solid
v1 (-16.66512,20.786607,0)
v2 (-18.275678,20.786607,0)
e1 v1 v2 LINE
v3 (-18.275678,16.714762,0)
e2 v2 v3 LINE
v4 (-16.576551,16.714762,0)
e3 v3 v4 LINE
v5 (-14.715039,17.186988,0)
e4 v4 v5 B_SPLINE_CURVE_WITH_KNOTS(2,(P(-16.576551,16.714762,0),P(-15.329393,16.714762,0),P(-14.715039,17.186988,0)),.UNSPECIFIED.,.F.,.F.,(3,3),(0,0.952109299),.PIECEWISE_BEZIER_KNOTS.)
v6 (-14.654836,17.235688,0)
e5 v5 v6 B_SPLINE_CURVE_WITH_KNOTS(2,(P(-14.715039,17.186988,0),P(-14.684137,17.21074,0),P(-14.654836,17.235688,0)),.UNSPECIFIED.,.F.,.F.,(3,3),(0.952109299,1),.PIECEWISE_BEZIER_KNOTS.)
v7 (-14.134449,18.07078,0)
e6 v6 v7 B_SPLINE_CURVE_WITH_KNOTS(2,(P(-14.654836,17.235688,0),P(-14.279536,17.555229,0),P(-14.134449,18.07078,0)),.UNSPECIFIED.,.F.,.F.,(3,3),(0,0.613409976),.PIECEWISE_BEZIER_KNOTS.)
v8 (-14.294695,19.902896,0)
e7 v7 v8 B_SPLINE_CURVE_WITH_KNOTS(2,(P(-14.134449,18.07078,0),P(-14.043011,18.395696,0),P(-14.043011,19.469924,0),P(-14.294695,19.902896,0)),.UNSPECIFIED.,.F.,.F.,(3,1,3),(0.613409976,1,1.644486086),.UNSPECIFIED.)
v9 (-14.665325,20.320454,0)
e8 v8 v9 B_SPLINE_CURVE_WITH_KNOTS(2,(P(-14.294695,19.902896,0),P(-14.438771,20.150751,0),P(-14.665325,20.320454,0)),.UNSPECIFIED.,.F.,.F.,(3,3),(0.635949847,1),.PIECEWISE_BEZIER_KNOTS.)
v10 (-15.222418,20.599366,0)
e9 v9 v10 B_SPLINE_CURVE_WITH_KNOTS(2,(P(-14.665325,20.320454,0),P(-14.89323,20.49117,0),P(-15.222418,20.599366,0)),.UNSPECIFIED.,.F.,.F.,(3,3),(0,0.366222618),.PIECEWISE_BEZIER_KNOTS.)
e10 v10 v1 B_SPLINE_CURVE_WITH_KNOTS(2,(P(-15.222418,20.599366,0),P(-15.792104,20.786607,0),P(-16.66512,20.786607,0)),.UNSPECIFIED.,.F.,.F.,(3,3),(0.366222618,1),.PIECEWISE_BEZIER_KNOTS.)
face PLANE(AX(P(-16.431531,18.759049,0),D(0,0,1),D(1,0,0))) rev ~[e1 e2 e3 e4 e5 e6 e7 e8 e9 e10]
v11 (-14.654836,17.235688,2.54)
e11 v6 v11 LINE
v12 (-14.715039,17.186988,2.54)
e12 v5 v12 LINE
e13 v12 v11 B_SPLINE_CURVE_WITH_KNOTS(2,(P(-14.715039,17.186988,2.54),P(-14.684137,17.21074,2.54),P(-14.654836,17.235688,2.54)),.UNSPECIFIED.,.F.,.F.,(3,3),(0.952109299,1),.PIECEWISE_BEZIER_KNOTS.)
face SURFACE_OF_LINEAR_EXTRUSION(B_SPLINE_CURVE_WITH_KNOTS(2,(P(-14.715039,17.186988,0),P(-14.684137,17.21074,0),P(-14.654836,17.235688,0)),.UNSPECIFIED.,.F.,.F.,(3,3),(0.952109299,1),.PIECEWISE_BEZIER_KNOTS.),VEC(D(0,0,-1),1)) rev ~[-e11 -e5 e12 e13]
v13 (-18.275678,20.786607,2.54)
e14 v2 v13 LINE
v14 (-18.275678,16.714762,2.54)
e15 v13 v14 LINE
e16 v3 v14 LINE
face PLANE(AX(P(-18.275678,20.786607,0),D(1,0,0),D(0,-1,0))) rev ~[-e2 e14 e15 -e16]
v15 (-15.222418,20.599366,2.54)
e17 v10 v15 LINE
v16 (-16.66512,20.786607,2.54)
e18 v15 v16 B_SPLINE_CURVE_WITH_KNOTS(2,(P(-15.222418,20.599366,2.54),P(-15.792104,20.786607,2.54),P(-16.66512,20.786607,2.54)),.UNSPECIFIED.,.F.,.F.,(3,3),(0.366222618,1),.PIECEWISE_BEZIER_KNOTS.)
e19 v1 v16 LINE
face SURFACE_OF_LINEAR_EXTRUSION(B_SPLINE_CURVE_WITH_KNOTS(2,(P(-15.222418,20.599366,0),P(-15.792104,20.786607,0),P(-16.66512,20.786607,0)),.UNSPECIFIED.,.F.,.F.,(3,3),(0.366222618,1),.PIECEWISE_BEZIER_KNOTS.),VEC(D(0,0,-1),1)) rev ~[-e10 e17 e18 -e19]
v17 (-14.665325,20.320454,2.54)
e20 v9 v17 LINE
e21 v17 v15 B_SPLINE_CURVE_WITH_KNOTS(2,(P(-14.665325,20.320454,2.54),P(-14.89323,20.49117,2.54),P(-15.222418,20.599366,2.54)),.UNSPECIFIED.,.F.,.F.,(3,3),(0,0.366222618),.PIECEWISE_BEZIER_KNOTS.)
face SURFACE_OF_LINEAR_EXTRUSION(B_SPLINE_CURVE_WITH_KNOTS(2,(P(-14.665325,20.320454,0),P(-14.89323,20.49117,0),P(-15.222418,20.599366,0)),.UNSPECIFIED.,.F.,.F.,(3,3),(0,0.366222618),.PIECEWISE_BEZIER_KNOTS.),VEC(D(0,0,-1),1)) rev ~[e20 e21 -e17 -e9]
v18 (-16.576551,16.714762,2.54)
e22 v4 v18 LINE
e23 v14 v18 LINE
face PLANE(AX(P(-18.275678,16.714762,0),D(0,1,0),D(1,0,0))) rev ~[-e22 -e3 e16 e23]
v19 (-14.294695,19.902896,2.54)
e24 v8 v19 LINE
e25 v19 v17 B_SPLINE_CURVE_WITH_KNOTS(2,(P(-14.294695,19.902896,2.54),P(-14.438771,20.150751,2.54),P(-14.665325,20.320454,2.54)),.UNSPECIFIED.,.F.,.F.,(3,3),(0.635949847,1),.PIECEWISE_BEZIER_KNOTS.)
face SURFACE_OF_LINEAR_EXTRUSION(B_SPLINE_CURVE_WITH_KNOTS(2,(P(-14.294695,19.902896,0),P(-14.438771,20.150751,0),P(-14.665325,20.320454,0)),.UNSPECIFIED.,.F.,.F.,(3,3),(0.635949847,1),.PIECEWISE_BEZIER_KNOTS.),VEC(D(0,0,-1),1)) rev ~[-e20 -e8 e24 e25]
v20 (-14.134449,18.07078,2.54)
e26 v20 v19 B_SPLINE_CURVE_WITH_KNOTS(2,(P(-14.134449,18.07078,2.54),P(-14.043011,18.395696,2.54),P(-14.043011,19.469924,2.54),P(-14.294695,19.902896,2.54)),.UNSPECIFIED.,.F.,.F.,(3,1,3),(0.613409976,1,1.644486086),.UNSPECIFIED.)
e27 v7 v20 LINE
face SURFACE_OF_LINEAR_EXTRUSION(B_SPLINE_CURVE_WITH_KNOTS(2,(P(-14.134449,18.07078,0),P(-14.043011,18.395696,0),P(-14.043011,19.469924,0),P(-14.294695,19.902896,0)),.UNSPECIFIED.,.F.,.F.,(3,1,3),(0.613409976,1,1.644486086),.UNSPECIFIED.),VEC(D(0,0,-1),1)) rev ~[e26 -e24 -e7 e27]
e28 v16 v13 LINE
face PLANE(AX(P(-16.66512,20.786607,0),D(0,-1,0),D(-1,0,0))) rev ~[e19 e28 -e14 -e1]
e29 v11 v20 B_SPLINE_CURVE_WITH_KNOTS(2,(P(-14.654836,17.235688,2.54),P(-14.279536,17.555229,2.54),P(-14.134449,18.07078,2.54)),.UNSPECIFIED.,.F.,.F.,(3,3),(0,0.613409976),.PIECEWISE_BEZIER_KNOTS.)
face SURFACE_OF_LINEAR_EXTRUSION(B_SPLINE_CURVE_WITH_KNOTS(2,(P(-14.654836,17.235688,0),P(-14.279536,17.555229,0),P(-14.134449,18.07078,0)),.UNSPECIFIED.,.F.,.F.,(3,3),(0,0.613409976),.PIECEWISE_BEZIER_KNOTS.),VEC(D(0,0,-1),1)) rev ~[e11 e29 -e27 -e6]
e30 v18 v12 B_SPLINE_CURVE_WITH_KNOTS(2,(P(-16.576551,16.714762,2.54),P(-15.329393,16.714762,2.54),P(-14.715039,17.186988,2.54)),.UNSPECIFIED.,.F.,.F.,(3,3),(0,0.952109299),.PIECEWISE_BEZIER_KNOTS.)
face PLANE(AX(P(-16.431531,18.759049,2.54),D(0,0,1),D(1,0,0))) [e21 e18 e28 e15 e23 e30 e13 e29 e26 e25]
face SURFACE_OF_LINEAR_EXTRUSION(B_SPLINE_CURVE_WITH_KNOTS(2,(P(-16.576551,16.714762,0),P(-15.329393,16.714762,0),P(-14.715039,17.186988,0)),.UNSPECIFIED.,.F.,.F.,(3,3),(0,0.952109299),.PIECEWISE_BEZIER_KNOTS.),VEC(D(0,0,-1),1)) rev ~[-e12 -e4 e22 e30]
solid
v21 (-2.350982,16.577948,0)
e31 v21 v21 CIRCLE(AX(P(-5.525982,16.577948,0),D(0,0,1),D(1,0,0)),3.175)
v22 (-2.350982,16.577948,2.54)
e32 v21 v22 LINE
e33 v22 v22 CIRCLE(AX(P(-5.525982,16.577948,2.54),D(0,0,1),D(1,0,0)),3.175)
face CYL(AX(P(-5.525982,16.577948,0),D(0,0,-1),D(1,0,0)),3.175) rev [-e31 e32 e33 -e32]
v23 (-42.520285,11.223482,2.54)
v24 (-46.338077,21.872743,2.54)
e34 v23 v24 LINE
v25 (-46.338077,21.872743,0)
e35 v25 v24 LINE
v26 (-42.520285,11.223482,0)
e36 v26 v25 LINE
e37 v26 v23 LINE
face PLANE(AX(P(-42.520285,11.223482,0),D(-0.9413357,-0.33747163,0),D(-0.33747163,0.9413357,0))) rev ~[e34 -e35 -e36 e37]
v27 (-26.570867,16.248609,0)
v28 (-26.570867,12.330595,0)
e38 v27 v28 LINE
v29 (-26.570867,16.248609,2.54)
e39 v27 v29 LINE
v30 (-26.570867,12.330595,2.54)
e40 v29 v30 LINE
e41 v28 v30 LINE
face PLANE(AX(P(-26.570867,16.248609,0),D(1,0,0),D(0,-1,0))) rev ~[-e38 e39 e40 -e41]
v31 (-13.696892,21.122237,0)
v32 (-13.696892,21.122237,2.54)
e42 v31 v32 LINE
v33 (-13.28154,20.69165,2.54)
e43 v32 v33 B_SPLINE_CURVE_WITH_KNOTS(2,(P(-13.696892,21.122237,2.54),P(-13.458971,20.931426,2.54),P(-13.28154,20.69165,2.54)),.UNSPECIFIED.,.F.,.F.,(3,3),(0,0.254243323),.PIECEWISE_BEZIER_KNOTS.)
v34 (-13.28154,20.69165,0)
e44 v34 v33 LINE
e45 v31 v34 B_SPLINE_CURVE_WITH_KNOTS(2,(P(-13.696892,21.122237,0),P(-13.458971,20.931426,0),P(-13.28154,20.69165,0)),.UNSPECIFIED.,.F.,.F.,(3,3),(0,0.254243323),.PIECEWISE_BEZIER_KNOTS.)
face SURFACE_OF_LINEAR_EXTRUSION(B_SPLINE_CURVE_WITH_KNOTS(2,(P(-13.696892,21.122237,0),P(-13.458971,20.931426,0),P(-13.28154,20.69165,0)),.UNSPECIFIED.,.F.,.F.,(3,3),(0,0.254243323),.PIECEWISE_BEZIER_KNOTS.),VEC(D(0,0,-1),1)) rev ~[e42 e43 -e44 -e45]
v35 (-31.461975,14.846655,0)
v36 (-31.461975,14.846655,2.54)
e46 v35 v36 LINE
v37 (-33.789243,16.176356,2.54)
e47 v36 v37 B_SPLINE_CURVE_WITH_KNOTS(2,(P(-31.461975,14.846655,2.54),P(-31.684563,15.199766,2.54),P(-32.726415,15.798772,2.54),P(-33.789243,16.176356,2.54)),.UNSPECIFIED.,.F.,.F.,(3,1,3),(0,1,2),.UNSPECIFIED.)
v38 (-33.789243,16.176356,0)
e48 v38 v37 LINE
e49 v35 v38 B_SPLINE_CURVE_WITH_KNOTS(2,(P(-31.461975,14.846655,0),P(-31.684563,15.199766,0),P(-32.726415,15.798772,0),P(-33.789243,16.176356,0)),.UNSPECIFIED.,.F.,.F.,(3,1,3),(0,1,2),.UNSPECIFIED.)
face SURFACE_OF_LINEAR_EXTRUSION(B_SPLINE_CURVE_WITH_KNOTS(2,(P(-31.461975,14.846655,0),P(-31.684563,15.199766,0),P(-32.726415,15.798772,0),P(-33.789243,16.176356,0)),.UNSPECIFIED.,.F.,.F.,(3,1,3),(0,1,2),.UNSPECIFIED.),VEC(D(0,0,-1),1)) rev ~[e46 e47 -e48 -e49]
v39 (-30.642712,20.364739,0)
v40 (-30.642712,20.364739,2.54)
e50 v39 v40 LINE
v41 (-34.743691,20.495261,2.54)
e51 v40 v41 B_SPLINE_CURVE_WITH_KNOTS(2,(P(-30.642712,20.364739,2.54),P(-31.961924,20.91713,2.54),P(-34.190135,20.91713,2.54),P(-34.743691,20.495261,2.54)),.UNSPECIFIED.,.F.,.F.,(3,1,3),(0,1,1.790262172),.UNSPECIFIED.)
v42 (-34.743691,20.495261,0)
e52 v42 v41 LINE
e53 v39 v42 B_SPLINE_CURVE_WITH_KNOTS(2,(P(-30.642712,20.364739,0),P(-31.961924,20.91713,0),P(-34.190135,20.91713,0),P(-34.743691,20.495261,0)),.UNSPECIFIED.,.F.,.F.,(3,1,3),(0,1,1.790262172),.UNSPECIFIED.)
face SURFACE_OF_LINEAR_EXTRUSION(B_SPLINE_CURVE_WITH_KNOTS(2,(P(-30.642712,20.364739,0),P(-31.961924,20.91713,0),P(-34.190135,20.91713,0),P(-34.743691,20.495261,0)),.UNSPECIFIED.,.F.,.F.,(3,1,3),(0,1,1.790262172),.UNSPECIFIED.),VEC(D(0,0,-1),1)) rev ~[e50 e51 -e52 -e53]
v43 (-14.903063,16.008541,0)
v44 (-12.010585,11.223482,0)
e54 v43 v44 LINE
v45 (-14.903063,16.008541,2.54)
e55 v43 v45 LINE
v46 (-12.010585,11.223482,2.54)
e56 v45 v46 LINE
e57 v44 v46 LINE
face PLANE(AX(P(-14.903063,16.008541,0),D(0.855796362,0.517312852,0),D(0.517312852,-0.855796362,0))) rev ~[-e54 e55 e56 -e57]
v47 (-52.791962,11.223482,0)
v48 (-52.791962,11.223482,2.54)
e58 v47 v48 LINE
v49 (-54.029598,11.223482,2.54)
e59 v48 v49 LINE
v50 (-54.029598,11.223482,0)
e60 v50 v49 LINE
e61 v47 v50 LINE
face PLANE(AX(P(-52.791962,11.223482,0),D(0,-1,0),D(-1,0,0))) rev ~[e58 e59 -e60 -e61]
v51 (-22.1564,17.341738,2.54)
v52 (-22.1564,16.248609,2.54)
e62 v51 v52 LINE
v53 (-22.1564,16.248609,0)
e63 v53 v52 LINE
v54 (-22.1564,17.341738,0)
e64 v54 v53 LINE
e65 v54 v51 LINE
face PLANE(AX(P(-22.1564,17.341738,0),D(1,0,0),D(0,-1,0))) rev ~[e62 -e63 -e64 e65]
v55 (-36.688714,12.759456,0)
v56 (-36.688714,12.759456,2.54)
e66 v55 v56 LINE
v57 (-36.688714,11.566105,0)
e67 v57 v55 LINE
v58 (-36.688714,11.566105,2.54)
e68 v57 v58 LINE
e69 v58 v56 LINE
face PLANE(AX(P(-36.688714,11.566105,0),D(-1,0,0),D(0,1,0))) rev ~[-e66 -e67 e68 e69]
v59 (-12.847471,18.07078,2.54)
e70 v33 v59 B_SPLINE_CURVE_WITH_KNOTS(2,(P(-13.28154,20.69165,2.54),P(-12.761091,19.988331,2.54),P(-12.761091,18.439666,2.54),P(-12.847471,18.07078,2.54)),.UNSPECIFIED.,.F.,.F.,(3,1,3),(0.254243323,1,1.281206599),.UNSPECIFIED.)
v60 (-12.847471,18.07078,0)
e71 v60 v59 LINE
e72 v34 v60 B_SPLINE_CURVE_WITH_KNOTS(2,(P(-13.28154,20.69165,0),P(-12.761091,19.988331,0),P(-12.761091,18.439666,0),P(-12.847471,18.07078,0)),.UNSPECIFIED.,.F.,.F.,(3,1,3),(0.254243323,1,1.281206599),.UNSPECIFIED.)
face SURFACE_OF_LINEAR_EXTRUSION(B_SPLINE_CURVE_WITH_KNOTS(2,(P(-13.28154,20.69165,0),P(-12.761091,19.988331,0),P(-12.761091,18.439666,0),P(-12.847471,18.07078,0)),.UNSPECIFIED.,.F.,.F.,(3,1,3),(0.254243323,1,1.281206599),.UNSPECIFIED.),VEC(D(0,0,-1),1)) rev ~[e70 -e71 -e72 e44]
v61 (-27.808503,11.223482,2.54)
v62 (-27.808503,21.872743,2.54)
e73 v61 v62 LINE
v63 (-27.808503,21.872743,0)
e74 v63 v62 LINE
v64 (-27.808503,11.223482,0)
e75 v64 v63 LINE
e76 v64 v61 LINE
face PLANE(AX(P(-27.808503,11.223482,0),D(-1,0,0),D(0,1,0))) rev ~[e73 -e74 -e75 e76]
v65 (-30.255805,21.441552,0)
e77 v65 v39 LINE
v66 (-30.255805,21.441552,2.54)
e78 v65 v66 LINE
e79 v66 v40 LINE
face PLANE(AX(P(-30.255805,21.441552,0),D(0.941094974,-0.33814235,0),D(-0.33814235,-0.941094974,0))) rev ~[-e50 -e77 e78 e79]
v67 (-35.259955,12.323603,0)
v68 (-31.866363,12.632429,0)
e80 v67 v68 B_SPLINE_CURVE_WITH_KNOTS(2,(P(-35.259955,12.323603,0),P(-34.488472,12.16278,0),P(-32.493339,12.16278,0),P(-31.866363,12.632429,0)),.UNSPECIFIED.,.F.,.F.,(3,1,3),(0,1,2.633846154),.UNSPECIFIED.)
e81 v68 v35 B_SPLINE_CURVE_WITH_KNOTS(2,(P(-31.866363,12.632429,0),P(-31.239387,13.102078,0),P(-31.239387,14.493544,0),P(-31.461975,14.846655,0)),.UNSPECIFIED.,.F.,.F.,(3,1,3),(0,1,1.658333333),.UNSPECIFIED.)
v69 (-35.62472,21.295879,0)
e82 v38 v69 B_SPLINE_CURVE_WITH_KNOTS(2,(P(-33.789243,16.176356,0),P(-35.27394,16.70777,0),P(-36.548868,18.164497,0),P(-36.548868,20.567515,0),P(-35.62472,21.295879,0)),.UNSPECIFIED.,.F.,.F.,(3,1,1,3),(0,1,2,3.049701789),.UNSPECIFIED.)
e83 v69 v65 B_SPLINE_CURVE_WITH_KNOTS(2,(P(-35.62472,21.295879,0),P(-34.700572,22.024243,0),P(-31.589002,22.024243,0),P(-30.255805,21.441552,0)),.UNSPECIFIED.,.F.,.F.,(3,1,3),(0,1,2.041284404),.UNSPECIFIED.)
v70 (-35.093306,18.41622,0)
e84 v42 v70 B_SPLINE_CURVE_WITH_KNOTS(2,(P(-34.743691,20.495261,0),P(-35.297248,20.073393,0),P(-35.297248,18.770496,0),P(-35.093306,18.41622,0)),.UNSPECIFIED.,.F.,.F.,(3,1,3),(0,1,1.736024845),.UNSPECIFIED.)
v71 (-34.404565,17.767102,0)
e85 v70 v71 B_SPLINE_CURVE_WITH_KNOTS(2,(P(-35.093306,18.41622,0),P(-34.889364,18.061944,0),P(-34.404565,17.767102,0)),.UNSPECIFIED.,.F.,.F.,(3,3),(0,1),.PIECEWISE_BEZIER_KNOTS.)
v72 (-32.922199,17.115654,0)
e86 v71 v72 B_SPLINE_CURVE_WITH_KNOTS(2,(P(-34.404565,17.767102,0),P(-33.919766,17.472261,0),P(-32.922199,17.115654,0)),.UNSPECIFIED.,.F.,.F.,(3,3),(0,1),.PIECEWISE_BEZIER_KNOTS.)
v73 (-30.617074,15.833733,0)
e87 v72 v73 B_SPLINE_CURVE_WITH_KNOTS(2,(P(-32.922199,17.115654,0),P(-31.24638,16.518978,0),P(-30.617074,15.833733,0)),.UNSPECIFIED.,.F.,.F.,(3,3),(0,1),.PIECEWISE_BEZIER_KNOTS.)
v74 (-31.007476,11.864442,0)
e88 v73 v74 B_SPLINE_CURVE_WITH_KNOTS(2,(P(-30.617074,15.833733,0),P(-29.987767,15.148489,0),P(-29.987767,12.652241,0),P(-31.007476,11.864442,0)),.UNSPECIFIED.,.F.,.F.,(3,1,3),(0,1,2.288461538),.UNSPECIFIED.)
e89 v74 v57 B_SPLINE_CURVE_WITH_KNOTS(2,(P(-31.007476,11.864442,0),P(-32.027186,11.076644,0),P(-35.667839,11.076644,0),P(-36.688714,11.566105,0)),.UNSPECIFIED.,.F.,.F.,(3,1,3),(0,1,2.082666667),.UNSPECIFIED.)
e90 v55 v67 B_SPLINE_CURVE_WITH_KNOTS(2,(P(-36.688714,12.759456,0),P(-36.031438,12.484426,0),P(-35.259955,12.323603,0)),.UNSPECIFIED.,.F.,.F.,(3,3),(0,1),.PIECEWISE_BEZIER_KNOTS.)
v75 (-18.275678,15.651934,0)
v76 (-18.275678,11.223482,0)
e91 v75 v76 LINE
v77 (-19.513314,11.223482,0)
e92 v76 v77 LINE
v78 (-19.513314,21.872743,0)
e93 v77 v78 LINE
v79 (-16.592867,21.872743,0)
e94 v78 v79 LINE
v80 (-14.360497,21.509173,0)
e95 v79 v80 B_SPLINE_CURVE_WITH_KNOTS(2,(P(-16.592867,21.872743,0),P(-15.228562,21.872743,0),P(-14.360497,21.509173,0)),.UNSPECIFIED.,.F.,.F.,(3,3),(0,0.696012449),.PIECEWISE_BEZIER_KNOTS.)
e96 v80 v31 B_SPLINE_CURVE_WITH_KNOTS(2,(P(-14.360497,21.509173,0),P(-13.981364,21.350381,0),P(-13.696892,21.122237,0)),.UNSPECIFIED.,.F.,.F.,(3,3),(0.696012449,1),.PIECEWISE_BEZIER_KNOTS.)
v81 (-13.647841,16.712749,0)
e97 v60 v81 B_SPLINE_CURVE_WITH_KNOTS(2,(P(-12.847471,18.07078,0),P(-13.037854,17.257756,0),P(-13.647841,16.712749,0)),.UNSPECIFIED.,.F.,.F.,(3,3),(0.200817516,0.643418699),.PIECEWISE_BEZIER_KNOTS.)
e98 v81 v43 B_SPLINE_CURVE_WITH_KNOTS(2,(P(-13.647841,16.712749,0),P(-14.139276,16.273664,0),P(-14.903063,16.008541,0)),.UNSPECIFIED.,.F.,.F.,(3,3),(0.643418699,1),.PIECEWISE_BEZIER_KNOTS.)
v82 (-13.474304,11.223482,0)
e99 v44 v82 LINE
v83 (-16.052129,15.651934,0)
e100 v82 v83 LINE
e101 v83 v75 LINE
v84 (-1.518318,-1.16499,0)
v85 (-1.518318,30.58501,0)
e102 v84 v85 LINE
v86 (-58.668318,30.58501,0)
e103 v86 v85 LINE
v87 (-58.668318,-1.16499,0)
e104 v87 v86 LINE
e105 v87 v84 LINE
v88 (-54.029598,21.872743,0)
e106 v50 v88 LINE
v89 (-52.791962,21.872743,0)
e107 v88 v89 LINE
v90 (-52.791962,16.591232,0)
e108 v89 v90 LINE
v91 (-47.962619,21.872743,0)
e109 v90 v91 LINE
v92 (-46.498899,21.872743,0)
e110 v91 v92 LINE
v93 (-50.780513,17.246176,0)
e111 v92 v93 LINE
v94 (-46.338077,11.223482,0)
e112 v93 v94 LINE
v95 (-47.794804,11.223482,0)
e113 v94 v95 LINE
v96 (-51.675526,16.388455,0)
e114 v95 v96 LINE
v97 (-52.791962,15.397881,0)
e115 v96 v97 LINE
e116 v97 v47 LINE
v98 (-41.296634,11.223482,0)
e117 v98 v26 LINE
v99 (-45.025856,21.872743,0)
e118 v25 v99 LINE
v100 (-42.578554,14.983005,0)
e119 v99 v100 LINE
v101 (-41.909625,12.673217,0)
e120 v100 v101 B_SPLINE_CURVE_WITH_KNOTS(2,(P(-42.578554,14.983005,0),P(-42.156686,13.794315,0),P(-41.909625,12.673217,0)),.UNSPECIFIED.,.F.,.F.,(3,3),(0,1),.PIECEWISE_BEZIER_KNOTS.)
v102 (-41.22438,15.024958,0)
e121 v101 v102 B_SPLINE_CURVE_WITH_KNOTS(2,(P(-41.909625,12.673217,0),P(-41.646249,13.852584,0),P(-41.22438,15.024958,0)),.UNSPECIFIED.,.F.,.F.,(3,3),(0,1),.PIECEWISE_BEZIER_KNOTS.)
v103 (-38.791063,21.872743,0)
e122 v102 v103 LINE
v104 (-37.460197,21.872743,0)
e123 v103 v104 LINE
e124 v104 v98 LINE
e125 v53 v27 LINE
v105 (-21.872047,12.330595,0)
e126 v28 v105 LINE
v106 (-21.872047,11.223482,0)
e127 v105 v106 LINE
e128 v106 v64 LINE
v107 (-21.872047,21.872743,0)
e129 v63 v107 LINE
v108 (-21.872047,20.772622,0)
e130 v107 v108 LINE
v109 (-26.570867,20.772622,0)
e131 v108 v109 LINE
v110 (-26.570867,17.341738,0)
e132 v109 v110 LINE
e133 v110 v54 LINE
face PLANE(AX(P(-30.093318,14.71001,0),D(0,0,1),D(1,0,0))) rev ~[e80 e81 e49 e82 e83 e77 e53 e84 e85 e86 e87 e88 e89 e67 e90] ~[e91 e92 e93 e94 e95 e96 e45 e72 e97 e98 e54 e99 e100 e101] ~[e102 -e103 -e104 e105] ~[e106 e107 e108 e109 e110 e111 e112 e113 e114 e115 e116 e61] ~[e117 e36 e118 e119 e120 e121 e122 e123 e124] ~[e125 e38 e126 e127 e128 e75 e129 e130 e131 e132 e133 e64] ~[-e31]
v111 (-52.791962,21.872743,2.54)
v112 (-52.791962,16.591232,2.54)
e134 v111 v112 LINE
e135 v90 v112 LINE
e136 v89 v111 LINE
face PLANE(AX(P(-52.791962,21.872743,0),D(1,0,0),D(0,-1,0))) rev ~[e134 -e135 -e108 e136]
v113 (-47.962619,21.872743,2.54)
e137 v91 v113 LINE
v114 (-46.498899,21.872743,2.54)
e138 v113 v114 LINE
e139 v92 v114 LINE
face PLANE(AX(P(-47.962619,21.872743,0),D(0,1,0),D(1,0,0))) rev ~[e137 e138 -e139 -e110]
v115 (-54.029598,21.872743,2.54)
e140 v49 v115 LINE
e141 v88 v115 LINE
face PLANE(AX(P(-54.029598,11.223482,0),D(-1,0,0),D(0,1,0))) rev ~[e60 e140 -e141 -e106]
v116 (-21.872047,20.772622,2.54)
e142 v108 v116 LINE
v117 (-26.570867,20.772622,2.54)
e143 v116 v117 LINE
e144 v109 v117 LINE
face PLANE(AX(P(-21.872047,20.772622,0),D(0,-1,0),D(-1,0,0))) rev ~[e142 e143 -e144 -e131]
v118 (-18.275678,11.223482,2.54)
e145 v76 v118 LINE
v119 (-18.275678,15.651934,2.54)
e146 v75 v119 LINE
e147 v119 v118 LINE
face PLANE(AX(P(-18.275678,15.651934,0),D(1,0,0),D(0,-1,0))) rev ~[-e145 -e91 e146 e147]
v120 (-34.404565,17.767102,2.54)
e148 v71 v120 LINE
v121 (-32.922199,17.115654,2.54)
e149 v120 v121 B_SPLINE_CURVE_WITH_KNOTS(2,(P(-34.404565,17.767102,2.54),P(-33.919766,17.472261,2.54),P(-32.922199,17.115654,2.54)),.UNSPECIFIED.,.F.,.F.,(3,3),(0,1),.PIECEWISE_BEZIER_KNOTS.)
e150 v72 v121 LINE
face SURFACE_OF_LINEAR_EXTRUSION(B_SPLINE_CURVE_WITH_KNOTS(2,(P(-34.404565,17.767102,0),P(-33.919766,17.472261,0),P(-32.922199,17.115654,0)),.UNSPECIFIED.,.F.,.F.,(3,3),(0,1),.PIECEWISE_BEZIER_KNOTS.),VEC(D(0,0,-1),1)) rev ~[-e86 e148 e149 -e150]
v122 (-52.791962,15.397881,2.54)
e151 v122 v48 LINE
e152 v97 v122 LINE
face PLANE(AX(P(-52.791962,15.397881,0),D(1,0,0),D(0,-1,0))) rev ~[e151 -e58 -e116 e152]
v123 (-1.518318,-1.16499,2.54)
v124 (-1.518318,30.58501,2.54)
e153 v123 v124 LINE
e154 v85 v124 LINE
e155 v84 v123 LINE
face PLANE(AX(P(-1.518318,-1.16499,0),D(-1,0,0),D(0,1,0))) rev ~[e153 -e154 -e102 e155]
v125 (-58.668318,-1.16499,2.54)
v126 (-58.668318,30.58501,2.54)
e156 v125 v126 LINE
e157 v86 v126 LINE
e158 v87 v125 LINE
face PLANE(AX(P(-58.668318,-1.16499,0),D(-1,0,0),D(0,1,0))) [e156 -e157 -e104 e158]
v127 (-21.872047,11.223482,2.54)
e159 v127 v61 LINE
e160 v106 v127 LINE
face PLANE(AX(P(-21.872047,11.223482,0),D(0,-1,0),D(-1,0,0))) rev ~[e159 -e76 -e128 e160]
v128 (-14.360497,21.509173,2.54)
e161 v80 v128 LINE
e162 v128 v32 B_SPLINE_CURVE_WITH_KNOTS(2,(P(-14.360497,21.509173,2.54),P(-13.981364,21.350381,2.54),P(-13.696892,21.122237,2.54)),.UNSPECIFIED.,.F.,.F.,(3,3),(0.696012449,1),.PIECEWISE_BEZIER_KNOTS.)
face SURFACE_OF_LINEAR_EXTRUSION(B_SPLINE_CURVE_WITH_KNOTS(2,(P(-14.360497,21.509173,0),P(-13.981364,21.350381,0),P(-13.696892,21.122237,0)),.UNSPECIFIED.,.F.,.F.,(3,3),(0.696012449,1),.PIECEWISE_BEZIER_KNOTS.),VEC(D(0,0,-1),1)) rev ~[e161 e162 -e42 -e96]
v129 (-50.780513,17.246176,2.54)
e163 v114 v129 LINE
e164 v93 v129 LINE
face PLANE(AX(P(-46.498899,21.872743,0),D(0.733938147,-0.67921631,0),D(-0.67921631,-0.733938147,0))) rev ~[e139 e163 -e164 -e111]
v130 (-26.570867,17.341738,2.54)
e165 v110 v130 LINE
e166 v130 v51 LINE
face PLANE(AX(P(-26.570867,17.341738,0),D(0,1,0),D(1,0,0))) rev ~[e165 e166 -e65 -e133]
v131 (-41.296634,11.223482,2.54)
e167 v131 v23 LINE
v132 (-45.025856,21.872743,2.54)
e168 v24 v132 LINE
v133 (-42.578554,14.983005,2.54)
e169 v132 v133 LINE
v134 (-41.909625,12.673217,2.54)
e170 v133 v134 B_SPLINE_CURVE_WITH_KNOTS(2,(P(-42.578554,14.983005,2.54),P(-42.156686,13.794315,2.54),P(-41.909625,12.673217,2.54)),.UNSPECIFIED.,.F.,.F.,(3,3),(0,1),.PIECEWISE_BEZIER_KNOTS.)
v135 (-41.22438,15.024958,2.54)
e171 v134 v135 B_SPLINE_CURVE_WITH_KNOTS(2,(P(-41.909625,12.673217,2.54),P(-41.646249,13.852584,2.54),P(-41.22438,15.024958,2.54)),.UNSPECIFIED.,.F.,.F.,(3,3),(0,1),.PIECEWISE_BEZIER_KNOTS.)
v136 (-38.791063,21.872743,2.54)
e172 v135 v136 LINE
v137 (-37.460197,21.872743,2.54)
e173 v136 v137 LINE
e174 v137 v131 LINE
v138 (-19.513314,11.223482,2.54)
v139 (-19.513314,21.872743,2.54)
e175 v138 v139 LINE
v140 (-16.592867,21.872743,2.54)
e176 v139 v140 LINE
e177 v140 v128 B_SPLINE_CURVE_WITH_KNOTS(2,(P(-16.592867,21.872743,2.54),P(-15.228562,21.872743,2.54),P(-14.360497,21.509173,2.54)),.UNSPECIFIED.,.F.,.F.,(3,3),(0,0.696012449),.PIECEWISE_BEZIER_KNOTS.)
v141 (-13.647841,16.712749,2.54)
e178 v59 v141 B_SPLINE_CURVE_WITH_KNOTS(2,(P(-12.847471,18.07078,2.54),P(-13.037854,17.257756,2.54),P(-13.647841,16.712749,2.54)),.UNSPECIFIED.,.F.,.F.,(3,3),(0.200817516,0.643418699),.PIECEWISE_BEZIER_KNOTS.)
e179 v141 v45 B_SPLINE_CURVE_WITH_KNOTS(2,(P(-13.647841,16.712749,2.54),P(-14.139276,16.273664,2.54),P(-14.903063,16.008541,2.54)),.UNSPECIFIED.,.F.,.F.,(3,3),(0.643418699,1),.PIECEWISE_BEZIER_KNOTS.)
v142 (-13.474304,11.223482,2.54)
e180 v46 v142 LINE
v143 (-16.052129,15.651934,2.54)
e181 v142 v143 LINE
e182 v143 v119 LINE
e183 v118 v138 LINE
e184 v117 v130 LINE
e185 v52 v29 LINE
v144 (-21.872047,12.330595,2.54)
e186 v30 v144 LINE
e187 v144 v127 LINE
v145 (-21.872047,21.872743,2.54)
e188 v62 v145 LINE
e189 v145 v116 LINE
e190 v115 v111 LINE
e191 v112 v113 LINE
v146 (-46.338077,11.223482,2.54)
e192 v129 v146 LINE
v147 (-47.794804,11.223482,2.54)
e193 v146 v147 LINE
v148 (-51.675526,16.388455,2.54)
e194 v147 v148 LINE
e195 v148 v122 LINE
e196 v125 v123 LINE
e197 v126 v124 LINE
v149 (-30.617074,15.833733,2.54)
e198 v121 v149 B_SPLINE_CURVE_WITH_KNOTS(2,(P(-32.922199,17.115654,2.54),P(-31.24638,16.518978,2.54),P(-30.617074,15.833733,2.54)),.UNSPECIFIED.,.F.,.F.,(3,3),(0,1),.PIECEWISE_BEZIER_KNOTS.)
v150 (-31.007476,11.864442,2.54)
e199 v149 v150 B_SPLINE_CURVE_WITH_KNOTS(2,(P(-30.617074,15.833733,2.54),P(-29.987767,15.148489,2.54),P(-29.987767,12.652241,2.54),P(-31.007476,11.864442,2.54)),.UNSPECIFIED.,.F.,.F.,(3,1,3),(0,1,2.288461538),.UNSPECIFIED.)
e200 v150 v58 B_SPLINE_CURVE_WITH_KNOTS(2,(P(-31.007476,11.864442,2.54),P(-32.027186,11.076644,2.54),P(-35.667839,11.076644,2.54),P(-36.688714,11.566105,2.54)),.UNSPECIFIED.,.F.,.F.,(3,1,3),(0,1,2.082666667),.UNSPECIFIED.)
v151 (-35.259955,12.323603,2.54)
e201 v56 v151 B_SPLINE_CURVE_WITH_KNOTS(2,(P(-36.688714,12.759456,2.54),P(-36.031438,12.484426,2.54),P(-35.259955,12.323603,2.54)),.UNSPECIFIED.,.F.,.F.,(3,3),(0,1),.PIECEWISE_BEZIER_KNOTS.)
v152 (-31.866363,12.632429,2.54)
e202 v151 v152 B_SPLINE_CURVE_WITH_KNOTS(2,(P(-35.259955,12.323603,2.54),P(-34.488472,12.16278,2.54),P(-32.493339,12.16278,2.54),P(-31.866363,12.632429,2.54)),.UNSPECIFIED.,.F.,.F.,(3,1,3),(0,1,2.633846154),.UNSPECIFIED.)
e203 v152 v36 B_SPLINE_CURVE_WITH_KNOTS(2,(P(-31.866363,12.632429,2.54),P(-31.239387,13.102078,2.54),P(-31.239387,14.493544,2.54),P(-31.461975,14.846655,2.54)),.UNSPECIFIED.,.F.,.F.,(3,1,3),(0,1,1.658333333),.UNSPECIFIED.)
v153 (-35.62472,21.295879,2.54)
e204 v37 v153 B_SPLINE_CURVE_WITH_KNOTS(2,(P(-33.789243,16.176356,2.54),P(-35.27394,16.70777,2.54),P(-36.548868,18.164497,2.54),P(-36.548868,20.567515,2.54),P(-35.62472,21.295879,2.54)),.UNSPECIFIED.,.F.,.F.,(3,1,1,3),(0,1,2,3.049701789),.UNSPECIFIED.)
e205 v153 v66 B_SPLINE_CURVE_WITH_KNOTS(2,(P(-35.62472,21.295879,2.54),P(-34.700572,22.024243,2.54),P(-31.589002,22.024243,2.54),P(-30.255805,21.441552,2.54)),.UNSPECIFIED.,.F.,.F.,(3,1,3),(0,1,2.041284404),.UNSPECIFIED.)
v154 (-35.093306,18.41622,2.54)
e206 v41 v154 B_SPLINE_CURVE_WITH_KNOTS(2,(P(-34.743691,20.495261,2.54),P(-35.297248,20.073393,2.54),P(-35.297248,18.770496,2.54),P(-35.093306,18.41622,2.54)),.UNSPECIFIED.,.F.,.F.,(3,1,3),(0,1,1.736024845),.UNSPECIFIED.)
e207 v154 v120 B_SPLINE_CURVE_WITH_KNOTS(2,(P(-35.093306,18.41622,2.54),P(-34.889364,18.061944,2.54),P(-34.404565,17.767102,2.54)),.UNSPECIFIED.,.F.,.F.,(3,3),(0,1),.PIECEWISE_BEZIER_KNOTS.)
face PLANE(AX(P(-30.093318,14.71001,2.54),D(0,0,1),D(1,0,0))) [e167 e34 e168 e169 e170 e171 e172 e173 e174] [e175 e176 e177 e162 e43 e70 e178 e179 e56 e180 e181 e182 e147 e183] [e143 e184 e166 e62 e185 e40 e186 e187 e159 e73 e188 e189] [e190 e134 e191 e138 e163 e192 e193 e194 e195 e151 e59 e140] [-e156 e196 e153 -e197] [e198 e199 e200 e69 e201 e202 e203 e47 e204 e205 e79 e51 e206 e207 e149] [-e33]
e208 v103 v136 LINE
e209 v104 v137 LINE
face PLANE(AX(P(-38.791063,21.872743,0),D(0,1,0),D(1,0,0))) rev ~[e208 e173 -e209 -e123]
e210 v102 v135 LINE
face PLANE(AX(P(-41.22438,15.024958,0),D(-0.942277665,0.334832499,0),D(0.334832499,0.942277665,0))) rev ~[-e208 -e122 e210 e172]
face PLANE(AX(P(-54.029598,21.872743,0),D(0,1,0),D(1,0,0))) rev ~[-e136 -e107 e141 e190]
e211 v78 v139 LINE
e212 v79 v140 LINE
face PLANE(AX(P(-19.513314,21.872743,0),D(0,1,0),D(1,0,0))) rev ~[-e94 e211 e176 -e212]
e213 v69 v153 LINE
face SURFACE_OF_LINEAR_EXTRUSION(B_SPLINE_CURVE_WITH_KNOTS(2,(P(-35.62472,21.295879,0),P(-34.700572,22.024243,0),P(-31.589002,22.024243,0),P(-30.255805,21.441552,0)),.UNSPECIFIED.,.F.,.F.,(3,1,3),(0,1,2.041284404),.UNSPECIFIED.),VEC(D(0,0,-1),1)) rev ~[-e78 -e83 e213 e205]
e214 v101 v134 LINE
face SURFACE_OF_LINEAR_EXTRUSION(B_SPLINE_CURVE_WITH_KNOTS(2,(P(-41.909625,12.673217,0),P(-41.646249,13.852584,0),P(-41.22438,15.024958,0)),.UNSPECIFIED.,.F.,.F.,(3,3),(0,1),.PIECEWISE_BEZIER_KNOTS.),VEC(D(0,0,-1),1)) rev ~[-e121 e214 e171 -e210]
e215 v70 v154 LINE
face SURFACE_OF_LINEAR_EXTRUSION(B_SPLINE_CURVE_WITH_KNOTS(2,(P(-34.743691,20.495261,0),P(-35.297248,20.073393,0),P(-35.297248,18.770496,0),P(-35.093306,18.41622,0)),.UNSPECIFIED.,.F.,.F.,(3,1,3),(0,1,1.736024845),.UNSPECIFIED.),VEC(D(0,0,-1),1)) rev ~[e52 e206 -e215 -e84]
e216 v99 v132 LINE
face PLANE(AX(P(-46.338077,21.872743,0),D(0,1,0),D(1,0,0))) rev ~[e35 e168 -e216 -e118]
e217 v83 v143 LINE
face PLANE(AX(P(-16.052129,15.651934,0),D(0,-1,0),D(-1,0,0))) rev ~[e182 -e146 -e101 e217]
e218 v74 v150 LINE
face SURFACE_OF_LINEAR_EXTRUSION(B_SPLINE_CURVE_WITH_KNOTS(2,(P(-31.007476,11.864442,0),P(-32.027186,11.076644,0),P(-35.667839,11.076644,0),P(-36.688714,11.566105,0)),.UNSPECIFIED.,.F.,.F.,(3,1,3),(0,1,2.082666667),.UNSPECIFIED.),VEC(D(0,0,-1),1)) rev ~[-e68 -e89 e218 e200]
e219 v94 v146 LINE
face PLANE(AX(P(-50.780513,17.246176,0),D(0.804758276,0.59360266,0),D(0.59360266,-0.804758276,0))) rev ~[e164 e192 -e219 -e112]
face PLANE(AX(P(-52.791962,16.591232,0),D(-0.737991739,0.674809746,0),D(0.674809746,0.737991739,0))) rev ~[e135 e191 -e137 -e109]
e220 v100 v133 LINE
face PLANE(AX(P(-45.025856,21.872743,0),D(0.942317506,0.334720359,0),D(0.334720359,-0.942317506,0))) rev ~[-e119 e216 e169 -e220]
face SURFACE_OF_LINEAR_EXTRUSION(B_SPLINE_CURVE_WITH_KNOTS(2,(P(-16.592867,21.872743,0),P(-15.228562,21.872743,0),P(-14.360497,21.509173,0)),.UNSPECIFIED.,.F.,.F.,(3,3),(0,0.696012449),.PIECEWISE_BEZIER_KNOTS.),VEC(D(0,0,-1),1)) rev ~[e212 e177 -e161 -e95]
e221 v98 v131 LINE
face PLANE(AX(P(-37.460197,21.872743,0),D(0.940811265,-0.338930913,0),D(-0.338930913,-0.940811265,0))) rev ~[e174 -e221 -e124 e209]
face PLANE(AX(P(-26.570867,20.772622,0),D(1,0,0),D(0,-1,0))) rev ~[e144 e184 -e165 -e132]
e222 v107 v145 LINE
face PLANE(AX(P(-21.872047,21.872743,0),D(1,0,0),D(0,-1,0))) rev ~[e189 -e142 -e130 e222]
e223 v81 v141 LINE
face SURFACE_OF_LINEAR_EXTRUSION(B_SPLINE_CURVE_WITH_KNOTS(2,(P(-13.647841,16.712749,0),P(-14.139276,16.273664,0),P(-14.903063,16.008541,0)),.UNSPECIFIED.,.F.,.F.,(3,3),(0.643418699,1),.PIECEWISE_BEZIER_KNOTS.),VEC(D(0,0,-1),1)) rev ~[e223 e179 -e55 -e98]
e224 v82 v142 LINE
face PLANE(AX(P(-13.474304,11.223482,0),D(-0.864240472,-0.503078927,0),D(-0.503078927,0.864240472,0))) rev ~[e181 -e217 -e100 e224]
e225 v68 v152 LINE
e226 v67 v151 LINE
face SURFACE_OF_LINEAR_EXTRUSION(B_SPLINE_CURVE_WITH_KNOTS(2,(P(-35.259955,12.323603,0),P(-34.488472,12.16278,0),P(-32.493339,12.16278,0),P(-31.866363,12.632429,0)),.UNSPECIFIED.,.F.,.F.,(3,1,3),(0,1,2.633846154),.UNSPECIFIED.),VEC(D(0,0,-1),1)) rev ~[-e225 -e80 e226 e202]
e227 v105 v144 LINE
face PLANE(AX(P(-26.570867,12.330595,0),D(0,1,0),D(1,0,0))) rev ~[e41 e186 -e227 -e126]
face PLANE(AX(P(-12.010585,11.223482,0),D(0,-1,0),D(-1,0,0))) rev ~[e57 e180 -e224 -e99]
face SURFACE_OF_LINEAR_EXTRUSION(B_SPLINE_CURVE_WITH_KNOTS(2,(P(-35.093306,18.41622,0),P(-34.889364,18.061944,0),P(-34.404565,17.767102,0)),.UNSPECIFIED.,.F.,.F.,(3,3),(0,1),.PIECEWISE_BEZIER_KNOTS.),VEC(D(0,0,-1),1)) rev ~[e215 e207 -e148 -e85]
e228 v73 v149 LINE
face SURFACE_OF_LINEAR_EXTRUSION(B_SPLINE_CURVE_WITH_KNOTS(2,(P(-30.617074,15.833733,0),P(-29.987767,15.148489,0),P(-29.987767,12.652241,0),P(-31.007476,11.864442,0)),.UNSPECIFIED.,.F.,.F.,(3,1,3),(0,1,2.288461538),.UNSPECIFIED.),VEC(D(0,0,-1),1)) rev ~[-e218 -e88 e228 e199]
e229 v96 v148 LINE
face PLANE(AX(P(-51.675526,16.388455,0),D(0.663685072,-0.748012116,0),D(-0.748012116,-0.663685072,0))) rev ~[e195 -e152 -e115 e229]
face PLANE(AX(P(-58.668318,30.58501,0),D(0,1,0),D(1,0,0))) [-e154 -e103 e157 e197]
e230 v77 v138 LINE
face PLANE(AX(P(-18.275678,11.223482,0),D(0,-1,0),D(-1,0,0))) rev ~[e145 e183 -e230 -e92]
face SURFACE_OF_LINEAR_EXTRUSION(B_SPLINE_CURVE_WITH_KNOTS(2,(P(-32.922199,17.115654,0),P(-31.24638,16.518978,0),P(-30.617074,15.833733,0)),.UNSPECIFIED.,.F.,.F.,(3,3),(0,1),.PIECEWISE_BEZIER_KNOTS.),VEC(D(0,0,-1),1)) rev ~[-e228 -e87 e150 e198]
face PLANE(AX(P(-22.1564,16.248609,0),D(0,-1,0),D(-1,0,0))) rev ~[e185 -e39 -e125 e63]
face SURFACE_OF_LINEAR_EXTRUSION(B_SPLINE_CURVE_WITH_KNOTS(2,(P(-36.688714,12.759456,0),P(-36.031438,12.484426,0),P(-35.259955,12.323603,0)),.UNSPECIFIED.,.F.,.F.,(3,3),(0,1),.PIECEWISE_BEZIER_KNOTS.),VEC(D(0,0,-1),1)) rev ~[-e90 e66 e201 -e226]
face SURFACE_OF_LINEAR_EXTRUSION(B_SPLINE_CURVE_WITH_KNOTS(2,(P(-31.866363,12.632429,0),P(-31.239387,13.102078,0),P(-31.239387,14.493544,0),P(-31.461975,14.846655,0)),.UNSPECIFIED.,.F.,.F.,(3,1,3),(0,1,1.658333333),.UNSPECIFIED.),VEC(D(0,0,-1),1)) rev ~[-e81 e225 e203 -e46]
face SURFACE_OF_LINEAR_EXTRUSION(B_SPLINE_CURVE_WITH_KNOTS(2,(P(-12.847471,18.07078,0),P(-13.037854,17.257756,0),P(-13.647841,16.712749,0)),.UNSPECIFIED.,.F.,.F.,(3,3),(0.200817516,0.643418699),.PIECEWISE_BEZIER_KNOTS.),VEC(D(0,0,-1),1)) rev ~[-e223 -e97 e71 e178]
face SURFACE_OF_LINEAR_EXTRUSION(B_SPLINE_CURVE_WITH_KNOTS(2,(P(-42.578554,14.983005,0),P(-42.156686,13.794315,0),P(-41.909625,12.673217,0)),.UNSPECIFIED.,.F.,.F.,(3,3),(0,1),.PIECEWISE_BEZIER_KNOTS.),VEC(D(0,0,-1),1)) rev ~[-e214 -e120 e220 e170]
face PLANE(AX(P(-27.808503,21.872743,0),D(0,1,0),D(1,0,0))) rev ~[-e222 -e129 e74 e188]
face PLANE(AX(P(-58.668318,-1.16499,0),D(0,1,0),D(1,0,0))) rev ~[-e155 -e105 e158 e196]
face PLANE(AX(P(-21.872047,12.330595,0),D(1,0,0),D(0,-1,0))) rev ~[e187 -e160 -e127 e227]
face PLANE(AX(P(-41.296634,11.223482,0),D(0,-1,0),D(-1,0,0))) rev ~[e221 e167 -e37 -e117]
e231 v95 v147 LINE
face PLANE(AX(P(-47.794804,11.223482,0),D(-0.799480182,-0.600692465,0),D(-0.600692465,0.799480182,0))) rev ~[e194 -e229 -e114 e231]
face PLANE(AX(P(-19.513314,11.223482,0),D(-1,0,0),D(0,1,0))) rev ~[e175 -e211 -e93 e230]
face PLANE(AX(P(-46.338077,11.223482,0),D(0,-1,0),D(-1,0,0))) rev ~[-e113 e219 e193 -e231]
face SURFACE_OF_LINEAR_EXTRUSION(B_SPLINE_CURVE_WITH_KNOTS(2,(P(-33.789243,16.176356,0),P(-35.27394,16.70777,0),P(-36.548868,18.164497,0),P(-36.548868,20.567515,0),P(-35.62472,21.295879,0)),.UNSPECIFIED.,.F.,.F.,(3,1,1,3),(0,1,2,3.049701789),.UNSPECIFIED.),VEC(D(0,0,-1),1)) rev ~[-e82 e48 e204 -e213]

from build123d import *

# Parameters (mm, degrees)
F1_DEPTH = 2.54
F0_W     = 57.15
F0_H     = 31.75
F0_R     = 3.175


with BuildPart() as f1:
    # F0 (on Top) → F1 (new body)
    with BuildSketch(Plane.XY):
        with BuildLine():
            Line((-18.2756781968, 20.786606901), (-18.2756781968, 19.4800253958))
            Line((-18.2756781968, 19.4800253958), (-18.2756781968, 18.3623470366))
            Line((-18.2756781968, 18.3623470366), (-18.2756781968, 16.7147622153))
            Line((-18.2756781968, 16.7147622153), (-16.5765512501, 16.7147622153))
            add(Edge.make_bspline(
                [(-16.5765512501, 16.7147622153), (-15.3293934084, 16.7147622153), (-14.7150388735, 17.1869877213)],
                knots=[0, 0, 0, 0.9521092994, 0.9521092994, 0.9521092994], degree=2))
            add(Edge.make_bspline(
                [(-14.7150388735, 17.1869877213), (-14.6841370967, 17.2107404673), (-14.6548363426, 17.2356879665)],
                knots=[0.9521092994, 0.9521092994, 0.9521092994, 1, 1, 1], degree=2))
            add(Edge.make_bspline(
                [(-14.6548363426, 17.2356879665), (-14.2795364488, 17.555229019), (-14.1344492538, 18.0707797408)],
                knots=[0, 0, 0, 0.613409976, 0.613409976, 0.613409976], degree=2))
            add(Edge.make_bspline(
                [(-14.1344492538, 18.0707797408), (-14.043010796, 18.3956958226), (-14.043010796, 18.7984652199)],
                knots=[0.613409976, 0.613409976, 0.613409976, 1, 1, 1], degree=2))
            add(Edge.make_bspline(
                [(-14.043010796, 18.7984652199), (-14.043010796, 19.4699240171), (-14.2946946146, 19.9028959001)],
                knots=[0, 0, 0, 0.6359498468, 0.6359498468, 0.6359498468], degree=2))
            add(Edge.make_bspline(
                [(-14.2946946146, 19.9028959001), (-14.4387712791, 20.1507511062), (-14.6653247806, 20.3204541035)],
                knots=[0.6359498468, 0.6359498468, 0.6359498468, 1, 1, 1], degree=2))
            add(Edge.make_bspline(
                [(-14.6653247806, 20.3204541035), (-14.8932302371, 20.4911698013), (-15.2224180123, 20.5993655494)],
                knots=[0, 0, 0, 0.3662226179, 0.3662226179, 0.3662226179], degree=2))
            add(Edge.make_bspline(
                [(-15.2224180123, 20.5993655494), (-15.7921036522, 20.786606901), (-16.6651202816, 20.786606901)],
                knots=[0.3662226179, 0.3662226179, 0.3662226179, 1, 1, 1], degree=2))
            Line((-16.6651202816, 20.786606901), (-18.2756781968, 20.786606901))
        make_face()
    extrude(amount=F1_DEPTH)


with BuildPart() as f1b:
    # F0 (on Top) → F1, piece 2 (new body)
    with BuildSketch(Plane.XY):
        with Locations((-30.0933175445, 14.7100100294)):
            Rectangle(F0_W, F0_H)
        Polygon((-50.7805127623, 17.2461764044), (-46.3380766027, 11.2234822615), (-47.7948040947, 11.2234822615), (-51.6755261334, 16.3884552571), (-52.7919620833, 15.3978805626), (-52.7919620833, 11.2234822615), (-54.0295977605, 11.2234822615), (-54.0295977605, 21.872742919), (-52.7919620833, 21.872742919), (-52.7919620833, 16.591231724), (-47.9626191018, 21.872742919), (-46.4988993178, 21.872742919), align=None, mode=Mode.SUBTRACT)
        with BuildLine():
            Line((-41.2243804148, 15.0249583246), (-38.7910628121, 21.872742919))
            Line((-38.7910628121, 21.872742919), (-37.4601965754, 21.872742919))
            Line((-37.4601965754, 21.872742919), (-41.2966340984, 11.2234822615))
            Line((-41.2966340984, 11.2234822615), (-42.5202851917, 11.2234822615))
            Line((-42.5202851917, 11.2234822615), (-46.3380766027, 21.872742919))
            Line((-46.3380766027, 21.872742919), (-45.0258564779, 21.872742919))
            Line((-45.0258564779, 21.872742919), (-42.5785542914, 14.9830045728))
            add(Edge.make_bspline(
                [(-42.5785542914, 14.9830045728), (-42.1566860097, 13.7943149394), (-41.909625027, 12.6732174615)],
                knots=[0, 0, 0, 1, 1, 1], degree=2))
            add(Edge.make_bspline(
                [(-41.909625027, 12.6732174615), (-41.6462486965, 13.852584039), (-41.2243804148, 15.0249583246)],
                knots=[0, 0, 0, 1, 1, 1], degree=2))
        make_face(mode=Mode.SUBTRACT)
        with BuildLine():
            add(Edge.make_bspline(
                [(-30.617073509, 15.8337334282), (-29.9877672325, 15.1484888159), (-29.9877672325, 14.0576912699)],
                knots=[0, 0, 0, 1, 1, 1], degree=2))
            add(Edge.make_bspline(
                [(-29.9877672325, 14.0576912699), (-29.9877672325, 12.6522405856), (-31.0074764769, 11.8644423579)],
                knots=[0, 0, 0, 1, 1, 1], degree=2))
            add(Edge.make_bspline(
                [(-31.0074764769, 11.8644423579), (-32.0271857213, 11.0766441303), (-33.7752587117, 11.0766441303)],
                knots=[0, 0, 0, 1, 1, 1], degree=2))
            add(Edge.make_bspline(
                [(-33.7752587117, 11.0766441303), (-35.6678390693, 11.0766441303), (-36.6887136957, 11.5661045676)],
                knots=[0, 0, 0, 1, 1, 1], degree=2))
            Line((-36.6887136957, 11.5661045676), (-36.6887136957, 12.759455729))
            add(Edge.make_bspline(
                [(-36.6887136957, 12.759455729), (-36.0314382513, 12.4844255785), (-35.2599553715, 12.3236028634)],
                knots=[0, 0, 0, 1, 1, 1], degree=2))
            add(Edge.make_bspline(
                [(-35.2599553715, 12.3236028634), (-34.4884724918, 12.1627801483), (-33.7309741959, 12.1627801483)],
                knots=[0, 0, 0, 1, 1, 1], degree=2))
            add(Edge.make_bspline(
                [(-33.7309741959, 12.1627801483), (-32.4933385187, 12.1627801483), (-31.8663630062, 12.6324290917)],
                knots=[0, 0, 0, 1, 1, 1], degree=2))
            add(Edge.make_bspline(
                [(-31.8663630062, 12.6324290917), (-31.2393874936, 13.1020780352), (-31.2393874936, 13.9411530705)],
                knots=[0, 0, 0, 1, 1, 1], degree=2))
            add(Edge.make_bspline(
                [(-31.2393874936, 13.9411530705), (-31.2393874936, 14.4935441355), (-31.4619754544, 14.8466548796)],
                knots=[0, 0, 0, 1, 1, 1], degree=2))
            add(Edge.make_bspline(
                [(-31.4619754544, 14.8466548796), (-31.6845634152, 15.1997656236), (-32.2054891663, 15.499268796)],
                knots=[0, 0, 0, 1, 1, 1], degree=2))
            add(Edge.make_bspline(
                [(-32.2054891663, 15.499268796), (-32.7264149174, 15.7987719684), (-33.7892432956, 16.1763557343)],
                knots=[0, 0, 0, 1, 1, 1], degree=2))
            add(Edge.make_bspline(
                [(-33.7892432956, 16.1763557343), (-35.2739399555, 16.7077699234), (-35.911403906, 17.4361336694)],
                knots=[0, 0, 0, 1, 1, 1], degree=2))
            add(Edge.make_bspline(
                [(-35.911403906, 17.4361336694), (-36.5488678565, 18.1644974154), (-36.5488678565, 19.3368717009)],
                knots=[0, 0, 0, 1, 1, 1], degree=2))
            add(Edge.make_bspline(
                [(-36.5488678565, 19.3368717009), (-36.5488678565, 20.5675150862), (-35.6247199355, 21.2958788322)],
                knots=[0, 0, 0, 1, 1, 1], degree=2))
            add(Edge.make_bspline(
                [(-35.6247199355, 21.2958788322), (-34.7005720146, 22.0242425782), (-33.176252367, 22.0242425782)],
                knots=[0, 0, 0, 1, 1, 1], degree=2))
            add(Edge.make_bspline(
                [(-33.176252367, 22.0242425782), (-31.5890020917, 22.0242425782), (-30.255805091, 21.4415515814)],
                knots=[0, 0, 0, 1, 1, 1], degree=2))
            Line((-30.255805091, 21.4415515814), (-30.6427119129, 20.3647386193))
            add(Edge.make_bspline(
                [(-30.6427119129, 20.3647386193), (-31.9619243296, 20.9171296843), (-33.2065522988, 20.9171296843)],
                knots=[0, 0, 0, 1, 1, 1], degree=2))
            add(Edge.make_bspline(
                [(-33.2065522988, 20.9171296843), (-34.1901347014, 20.9171296843), (-34.7436911484, 20.4952614026)],
                knots=[0, 0, 0, 1, 1, 1], degree=2))
            add(Edge.make_bspline(
                [(-34.7436911484, 20.4952614026), (-35.2972475953, 20.0733931209), (-35.2972475953, 19.322887117)],
                knots=[0, 0, 0, 1, 1, 1], degree=2))
            add(Edge.make_bspline(
                [(-35.2972475953, 19.322887117), (-35.2972475953, 18.770496052), (-35.0933057464, 18.416219926)],
                knots=[0, 0, 0, 1, 1, 1], degree=2))
            add(Edge.make_bspline(
                [(-35.0933057464, 18.416219926), (-34.8893638976, 18.0619437999), (-34.4045649882, 17.7671021555)],
                knots=[0, 0, 0, 1, 1, 1], degree=2))
            add(Edge.make_bspline(
                [(-34.4045649882, 17.7671021555), (-33.9197660789, 17.4722605112), (-32.9221990924, 17.1156536211)],
                knots=[0, 0, 0, 1, 1, 1], degree=2))
            add(Edge.make_bspline(
                [(-32.9221990924, 17.1156536211), (-31.2463797856, 16.5189780404), (-30.617073509, 15.8337334282)],
                knots=[0, 0, 0, 1, 1, 1], degree=2))
        make_face(mode=Mode.SUBTRACT)
        Polygon((-21.872047029, 12.3305951554), (-21.872047029, 11.2234822615), (-27.8085029044, 11.2234822615), (-27.8085029044, 21.872742919), (-21.872047029, 21.872742919), (-21.872047029, 20.772622317), (-26.5708672272, 20.772622317), (-26.5708672272, 17.3417377279), (-22.1564002355, 17.3417377279), (-22.1564002355, 16.2486094179), (-26.5708672272, 16.2486094179), (-26.5708672272, 12.3305951554), align=None, mode=Mode.SUBTRACT)
        with BuildLine():
            Line((-19.513313874, 18.3623470366), (-19.513313874, 19.4800253958))
            Line((-19.513313874, 19.4800253958), (-19.513313874, 21.872742919))
            Line((-19.513313874, 21.872742919), (-16.592866598, 21.872742919))
            add(Edge.make_bspline(
                [(-16.592866598, 21.872742919), (-15.2285621267, 21.872742919), (-14.3604969989, 21.509172797)],
                knots=[0, 0, 0, 0.696012449, 0.696012449, 0.696012449], degree=2))
            add(Edge.make_bspline(
                [(-14.3604969989, 21.509172797), (-13.9813644234, 21.3503813973), (-13.6968923439, 21.1222369151)],
                knots=[0.696012449, 0.696012449, 0.696012449, 1, 1, 1], degree=2))
            add(Edge.make_bspline(
                [(-13.6968923439, 21.1222369151), (-13.458971, 20.9314257751), (-13.2815395692, 20.6916501974)],
                knots=[0, 0, 0, 0.2542433226, 0.2542433226, 0.2542433226], degree=2))
            add(Edge.make_bspline(
                [(-13.2815395692, 20.6916501974), (-12.761090603, 19.9883308877), (-12.761090603, 18.8637266115)],
                knots=[0.2542433226, 0.2542433226, 0.2542433226, 1, 1, 1], degree=2))
            add(Edge.make_bspline(
                [(-12.761090603, 18.8637266115), (-12.761090603, 18.4396658515), (-12.8474713572, 18.0707797408)],
                knots=[0, 0, 0, 0.2008175159, 0.2008175159, 0.2008175159], degree=2))
            add(Edge.make_bspline(
                [(-12.8474713572, 18.0707797408), (-13.0378542721, 17.2577558946), (-13.6478405422, 16.7127485549)],
                knots=[0.2008175159, 0.2008175159, 0.2008175159, 0.6434186993, 0.6434186993, 0.6434186993], degree=2))
            add(Edge.make_bspline(
                [(-13.6478405422, 16.7127485549), (-14.1392755083, 16.2736638137), (-14.9030627073, 16.0085407272)],
                knots=[0.6434186993, 0.6434186993, 0.6434186993, 1, 1, 1], degree=2))
            Line((-14.9030627073, 16.0085407272), (-12.0105845992, 11.2234822615))
            Line((-12.0105845992, 11.2234822615), (-13.4743043831, 11.2234822615))
            Line((-13.4743043831, 11.2234822615), (-16.052129353, 15.6519338372))
            Line((-16.052129353, 15.6519338372), (-18.2756781968, 15.6519338372))
            Line((-18.2756781968, 15.6519338372), (-18.2756781968, 11.2234822615))
            Line((-18.2756781968, 11.2234822615), (-19.513313874, 11.2234822615))
            Line((-19.513313874, 11.2234822615), (-19.513313874, 18.3623470366))
        make_face(mode=Mode.SUBTRACT)
        with Locations((-5.525982473, 16.5779478848)):
            Circle(F0_R, mode=Mode.SUBTRACT)
    extrude(amount=F1_DEPTH)


solid = Compound([f1.part, f1b.part])
